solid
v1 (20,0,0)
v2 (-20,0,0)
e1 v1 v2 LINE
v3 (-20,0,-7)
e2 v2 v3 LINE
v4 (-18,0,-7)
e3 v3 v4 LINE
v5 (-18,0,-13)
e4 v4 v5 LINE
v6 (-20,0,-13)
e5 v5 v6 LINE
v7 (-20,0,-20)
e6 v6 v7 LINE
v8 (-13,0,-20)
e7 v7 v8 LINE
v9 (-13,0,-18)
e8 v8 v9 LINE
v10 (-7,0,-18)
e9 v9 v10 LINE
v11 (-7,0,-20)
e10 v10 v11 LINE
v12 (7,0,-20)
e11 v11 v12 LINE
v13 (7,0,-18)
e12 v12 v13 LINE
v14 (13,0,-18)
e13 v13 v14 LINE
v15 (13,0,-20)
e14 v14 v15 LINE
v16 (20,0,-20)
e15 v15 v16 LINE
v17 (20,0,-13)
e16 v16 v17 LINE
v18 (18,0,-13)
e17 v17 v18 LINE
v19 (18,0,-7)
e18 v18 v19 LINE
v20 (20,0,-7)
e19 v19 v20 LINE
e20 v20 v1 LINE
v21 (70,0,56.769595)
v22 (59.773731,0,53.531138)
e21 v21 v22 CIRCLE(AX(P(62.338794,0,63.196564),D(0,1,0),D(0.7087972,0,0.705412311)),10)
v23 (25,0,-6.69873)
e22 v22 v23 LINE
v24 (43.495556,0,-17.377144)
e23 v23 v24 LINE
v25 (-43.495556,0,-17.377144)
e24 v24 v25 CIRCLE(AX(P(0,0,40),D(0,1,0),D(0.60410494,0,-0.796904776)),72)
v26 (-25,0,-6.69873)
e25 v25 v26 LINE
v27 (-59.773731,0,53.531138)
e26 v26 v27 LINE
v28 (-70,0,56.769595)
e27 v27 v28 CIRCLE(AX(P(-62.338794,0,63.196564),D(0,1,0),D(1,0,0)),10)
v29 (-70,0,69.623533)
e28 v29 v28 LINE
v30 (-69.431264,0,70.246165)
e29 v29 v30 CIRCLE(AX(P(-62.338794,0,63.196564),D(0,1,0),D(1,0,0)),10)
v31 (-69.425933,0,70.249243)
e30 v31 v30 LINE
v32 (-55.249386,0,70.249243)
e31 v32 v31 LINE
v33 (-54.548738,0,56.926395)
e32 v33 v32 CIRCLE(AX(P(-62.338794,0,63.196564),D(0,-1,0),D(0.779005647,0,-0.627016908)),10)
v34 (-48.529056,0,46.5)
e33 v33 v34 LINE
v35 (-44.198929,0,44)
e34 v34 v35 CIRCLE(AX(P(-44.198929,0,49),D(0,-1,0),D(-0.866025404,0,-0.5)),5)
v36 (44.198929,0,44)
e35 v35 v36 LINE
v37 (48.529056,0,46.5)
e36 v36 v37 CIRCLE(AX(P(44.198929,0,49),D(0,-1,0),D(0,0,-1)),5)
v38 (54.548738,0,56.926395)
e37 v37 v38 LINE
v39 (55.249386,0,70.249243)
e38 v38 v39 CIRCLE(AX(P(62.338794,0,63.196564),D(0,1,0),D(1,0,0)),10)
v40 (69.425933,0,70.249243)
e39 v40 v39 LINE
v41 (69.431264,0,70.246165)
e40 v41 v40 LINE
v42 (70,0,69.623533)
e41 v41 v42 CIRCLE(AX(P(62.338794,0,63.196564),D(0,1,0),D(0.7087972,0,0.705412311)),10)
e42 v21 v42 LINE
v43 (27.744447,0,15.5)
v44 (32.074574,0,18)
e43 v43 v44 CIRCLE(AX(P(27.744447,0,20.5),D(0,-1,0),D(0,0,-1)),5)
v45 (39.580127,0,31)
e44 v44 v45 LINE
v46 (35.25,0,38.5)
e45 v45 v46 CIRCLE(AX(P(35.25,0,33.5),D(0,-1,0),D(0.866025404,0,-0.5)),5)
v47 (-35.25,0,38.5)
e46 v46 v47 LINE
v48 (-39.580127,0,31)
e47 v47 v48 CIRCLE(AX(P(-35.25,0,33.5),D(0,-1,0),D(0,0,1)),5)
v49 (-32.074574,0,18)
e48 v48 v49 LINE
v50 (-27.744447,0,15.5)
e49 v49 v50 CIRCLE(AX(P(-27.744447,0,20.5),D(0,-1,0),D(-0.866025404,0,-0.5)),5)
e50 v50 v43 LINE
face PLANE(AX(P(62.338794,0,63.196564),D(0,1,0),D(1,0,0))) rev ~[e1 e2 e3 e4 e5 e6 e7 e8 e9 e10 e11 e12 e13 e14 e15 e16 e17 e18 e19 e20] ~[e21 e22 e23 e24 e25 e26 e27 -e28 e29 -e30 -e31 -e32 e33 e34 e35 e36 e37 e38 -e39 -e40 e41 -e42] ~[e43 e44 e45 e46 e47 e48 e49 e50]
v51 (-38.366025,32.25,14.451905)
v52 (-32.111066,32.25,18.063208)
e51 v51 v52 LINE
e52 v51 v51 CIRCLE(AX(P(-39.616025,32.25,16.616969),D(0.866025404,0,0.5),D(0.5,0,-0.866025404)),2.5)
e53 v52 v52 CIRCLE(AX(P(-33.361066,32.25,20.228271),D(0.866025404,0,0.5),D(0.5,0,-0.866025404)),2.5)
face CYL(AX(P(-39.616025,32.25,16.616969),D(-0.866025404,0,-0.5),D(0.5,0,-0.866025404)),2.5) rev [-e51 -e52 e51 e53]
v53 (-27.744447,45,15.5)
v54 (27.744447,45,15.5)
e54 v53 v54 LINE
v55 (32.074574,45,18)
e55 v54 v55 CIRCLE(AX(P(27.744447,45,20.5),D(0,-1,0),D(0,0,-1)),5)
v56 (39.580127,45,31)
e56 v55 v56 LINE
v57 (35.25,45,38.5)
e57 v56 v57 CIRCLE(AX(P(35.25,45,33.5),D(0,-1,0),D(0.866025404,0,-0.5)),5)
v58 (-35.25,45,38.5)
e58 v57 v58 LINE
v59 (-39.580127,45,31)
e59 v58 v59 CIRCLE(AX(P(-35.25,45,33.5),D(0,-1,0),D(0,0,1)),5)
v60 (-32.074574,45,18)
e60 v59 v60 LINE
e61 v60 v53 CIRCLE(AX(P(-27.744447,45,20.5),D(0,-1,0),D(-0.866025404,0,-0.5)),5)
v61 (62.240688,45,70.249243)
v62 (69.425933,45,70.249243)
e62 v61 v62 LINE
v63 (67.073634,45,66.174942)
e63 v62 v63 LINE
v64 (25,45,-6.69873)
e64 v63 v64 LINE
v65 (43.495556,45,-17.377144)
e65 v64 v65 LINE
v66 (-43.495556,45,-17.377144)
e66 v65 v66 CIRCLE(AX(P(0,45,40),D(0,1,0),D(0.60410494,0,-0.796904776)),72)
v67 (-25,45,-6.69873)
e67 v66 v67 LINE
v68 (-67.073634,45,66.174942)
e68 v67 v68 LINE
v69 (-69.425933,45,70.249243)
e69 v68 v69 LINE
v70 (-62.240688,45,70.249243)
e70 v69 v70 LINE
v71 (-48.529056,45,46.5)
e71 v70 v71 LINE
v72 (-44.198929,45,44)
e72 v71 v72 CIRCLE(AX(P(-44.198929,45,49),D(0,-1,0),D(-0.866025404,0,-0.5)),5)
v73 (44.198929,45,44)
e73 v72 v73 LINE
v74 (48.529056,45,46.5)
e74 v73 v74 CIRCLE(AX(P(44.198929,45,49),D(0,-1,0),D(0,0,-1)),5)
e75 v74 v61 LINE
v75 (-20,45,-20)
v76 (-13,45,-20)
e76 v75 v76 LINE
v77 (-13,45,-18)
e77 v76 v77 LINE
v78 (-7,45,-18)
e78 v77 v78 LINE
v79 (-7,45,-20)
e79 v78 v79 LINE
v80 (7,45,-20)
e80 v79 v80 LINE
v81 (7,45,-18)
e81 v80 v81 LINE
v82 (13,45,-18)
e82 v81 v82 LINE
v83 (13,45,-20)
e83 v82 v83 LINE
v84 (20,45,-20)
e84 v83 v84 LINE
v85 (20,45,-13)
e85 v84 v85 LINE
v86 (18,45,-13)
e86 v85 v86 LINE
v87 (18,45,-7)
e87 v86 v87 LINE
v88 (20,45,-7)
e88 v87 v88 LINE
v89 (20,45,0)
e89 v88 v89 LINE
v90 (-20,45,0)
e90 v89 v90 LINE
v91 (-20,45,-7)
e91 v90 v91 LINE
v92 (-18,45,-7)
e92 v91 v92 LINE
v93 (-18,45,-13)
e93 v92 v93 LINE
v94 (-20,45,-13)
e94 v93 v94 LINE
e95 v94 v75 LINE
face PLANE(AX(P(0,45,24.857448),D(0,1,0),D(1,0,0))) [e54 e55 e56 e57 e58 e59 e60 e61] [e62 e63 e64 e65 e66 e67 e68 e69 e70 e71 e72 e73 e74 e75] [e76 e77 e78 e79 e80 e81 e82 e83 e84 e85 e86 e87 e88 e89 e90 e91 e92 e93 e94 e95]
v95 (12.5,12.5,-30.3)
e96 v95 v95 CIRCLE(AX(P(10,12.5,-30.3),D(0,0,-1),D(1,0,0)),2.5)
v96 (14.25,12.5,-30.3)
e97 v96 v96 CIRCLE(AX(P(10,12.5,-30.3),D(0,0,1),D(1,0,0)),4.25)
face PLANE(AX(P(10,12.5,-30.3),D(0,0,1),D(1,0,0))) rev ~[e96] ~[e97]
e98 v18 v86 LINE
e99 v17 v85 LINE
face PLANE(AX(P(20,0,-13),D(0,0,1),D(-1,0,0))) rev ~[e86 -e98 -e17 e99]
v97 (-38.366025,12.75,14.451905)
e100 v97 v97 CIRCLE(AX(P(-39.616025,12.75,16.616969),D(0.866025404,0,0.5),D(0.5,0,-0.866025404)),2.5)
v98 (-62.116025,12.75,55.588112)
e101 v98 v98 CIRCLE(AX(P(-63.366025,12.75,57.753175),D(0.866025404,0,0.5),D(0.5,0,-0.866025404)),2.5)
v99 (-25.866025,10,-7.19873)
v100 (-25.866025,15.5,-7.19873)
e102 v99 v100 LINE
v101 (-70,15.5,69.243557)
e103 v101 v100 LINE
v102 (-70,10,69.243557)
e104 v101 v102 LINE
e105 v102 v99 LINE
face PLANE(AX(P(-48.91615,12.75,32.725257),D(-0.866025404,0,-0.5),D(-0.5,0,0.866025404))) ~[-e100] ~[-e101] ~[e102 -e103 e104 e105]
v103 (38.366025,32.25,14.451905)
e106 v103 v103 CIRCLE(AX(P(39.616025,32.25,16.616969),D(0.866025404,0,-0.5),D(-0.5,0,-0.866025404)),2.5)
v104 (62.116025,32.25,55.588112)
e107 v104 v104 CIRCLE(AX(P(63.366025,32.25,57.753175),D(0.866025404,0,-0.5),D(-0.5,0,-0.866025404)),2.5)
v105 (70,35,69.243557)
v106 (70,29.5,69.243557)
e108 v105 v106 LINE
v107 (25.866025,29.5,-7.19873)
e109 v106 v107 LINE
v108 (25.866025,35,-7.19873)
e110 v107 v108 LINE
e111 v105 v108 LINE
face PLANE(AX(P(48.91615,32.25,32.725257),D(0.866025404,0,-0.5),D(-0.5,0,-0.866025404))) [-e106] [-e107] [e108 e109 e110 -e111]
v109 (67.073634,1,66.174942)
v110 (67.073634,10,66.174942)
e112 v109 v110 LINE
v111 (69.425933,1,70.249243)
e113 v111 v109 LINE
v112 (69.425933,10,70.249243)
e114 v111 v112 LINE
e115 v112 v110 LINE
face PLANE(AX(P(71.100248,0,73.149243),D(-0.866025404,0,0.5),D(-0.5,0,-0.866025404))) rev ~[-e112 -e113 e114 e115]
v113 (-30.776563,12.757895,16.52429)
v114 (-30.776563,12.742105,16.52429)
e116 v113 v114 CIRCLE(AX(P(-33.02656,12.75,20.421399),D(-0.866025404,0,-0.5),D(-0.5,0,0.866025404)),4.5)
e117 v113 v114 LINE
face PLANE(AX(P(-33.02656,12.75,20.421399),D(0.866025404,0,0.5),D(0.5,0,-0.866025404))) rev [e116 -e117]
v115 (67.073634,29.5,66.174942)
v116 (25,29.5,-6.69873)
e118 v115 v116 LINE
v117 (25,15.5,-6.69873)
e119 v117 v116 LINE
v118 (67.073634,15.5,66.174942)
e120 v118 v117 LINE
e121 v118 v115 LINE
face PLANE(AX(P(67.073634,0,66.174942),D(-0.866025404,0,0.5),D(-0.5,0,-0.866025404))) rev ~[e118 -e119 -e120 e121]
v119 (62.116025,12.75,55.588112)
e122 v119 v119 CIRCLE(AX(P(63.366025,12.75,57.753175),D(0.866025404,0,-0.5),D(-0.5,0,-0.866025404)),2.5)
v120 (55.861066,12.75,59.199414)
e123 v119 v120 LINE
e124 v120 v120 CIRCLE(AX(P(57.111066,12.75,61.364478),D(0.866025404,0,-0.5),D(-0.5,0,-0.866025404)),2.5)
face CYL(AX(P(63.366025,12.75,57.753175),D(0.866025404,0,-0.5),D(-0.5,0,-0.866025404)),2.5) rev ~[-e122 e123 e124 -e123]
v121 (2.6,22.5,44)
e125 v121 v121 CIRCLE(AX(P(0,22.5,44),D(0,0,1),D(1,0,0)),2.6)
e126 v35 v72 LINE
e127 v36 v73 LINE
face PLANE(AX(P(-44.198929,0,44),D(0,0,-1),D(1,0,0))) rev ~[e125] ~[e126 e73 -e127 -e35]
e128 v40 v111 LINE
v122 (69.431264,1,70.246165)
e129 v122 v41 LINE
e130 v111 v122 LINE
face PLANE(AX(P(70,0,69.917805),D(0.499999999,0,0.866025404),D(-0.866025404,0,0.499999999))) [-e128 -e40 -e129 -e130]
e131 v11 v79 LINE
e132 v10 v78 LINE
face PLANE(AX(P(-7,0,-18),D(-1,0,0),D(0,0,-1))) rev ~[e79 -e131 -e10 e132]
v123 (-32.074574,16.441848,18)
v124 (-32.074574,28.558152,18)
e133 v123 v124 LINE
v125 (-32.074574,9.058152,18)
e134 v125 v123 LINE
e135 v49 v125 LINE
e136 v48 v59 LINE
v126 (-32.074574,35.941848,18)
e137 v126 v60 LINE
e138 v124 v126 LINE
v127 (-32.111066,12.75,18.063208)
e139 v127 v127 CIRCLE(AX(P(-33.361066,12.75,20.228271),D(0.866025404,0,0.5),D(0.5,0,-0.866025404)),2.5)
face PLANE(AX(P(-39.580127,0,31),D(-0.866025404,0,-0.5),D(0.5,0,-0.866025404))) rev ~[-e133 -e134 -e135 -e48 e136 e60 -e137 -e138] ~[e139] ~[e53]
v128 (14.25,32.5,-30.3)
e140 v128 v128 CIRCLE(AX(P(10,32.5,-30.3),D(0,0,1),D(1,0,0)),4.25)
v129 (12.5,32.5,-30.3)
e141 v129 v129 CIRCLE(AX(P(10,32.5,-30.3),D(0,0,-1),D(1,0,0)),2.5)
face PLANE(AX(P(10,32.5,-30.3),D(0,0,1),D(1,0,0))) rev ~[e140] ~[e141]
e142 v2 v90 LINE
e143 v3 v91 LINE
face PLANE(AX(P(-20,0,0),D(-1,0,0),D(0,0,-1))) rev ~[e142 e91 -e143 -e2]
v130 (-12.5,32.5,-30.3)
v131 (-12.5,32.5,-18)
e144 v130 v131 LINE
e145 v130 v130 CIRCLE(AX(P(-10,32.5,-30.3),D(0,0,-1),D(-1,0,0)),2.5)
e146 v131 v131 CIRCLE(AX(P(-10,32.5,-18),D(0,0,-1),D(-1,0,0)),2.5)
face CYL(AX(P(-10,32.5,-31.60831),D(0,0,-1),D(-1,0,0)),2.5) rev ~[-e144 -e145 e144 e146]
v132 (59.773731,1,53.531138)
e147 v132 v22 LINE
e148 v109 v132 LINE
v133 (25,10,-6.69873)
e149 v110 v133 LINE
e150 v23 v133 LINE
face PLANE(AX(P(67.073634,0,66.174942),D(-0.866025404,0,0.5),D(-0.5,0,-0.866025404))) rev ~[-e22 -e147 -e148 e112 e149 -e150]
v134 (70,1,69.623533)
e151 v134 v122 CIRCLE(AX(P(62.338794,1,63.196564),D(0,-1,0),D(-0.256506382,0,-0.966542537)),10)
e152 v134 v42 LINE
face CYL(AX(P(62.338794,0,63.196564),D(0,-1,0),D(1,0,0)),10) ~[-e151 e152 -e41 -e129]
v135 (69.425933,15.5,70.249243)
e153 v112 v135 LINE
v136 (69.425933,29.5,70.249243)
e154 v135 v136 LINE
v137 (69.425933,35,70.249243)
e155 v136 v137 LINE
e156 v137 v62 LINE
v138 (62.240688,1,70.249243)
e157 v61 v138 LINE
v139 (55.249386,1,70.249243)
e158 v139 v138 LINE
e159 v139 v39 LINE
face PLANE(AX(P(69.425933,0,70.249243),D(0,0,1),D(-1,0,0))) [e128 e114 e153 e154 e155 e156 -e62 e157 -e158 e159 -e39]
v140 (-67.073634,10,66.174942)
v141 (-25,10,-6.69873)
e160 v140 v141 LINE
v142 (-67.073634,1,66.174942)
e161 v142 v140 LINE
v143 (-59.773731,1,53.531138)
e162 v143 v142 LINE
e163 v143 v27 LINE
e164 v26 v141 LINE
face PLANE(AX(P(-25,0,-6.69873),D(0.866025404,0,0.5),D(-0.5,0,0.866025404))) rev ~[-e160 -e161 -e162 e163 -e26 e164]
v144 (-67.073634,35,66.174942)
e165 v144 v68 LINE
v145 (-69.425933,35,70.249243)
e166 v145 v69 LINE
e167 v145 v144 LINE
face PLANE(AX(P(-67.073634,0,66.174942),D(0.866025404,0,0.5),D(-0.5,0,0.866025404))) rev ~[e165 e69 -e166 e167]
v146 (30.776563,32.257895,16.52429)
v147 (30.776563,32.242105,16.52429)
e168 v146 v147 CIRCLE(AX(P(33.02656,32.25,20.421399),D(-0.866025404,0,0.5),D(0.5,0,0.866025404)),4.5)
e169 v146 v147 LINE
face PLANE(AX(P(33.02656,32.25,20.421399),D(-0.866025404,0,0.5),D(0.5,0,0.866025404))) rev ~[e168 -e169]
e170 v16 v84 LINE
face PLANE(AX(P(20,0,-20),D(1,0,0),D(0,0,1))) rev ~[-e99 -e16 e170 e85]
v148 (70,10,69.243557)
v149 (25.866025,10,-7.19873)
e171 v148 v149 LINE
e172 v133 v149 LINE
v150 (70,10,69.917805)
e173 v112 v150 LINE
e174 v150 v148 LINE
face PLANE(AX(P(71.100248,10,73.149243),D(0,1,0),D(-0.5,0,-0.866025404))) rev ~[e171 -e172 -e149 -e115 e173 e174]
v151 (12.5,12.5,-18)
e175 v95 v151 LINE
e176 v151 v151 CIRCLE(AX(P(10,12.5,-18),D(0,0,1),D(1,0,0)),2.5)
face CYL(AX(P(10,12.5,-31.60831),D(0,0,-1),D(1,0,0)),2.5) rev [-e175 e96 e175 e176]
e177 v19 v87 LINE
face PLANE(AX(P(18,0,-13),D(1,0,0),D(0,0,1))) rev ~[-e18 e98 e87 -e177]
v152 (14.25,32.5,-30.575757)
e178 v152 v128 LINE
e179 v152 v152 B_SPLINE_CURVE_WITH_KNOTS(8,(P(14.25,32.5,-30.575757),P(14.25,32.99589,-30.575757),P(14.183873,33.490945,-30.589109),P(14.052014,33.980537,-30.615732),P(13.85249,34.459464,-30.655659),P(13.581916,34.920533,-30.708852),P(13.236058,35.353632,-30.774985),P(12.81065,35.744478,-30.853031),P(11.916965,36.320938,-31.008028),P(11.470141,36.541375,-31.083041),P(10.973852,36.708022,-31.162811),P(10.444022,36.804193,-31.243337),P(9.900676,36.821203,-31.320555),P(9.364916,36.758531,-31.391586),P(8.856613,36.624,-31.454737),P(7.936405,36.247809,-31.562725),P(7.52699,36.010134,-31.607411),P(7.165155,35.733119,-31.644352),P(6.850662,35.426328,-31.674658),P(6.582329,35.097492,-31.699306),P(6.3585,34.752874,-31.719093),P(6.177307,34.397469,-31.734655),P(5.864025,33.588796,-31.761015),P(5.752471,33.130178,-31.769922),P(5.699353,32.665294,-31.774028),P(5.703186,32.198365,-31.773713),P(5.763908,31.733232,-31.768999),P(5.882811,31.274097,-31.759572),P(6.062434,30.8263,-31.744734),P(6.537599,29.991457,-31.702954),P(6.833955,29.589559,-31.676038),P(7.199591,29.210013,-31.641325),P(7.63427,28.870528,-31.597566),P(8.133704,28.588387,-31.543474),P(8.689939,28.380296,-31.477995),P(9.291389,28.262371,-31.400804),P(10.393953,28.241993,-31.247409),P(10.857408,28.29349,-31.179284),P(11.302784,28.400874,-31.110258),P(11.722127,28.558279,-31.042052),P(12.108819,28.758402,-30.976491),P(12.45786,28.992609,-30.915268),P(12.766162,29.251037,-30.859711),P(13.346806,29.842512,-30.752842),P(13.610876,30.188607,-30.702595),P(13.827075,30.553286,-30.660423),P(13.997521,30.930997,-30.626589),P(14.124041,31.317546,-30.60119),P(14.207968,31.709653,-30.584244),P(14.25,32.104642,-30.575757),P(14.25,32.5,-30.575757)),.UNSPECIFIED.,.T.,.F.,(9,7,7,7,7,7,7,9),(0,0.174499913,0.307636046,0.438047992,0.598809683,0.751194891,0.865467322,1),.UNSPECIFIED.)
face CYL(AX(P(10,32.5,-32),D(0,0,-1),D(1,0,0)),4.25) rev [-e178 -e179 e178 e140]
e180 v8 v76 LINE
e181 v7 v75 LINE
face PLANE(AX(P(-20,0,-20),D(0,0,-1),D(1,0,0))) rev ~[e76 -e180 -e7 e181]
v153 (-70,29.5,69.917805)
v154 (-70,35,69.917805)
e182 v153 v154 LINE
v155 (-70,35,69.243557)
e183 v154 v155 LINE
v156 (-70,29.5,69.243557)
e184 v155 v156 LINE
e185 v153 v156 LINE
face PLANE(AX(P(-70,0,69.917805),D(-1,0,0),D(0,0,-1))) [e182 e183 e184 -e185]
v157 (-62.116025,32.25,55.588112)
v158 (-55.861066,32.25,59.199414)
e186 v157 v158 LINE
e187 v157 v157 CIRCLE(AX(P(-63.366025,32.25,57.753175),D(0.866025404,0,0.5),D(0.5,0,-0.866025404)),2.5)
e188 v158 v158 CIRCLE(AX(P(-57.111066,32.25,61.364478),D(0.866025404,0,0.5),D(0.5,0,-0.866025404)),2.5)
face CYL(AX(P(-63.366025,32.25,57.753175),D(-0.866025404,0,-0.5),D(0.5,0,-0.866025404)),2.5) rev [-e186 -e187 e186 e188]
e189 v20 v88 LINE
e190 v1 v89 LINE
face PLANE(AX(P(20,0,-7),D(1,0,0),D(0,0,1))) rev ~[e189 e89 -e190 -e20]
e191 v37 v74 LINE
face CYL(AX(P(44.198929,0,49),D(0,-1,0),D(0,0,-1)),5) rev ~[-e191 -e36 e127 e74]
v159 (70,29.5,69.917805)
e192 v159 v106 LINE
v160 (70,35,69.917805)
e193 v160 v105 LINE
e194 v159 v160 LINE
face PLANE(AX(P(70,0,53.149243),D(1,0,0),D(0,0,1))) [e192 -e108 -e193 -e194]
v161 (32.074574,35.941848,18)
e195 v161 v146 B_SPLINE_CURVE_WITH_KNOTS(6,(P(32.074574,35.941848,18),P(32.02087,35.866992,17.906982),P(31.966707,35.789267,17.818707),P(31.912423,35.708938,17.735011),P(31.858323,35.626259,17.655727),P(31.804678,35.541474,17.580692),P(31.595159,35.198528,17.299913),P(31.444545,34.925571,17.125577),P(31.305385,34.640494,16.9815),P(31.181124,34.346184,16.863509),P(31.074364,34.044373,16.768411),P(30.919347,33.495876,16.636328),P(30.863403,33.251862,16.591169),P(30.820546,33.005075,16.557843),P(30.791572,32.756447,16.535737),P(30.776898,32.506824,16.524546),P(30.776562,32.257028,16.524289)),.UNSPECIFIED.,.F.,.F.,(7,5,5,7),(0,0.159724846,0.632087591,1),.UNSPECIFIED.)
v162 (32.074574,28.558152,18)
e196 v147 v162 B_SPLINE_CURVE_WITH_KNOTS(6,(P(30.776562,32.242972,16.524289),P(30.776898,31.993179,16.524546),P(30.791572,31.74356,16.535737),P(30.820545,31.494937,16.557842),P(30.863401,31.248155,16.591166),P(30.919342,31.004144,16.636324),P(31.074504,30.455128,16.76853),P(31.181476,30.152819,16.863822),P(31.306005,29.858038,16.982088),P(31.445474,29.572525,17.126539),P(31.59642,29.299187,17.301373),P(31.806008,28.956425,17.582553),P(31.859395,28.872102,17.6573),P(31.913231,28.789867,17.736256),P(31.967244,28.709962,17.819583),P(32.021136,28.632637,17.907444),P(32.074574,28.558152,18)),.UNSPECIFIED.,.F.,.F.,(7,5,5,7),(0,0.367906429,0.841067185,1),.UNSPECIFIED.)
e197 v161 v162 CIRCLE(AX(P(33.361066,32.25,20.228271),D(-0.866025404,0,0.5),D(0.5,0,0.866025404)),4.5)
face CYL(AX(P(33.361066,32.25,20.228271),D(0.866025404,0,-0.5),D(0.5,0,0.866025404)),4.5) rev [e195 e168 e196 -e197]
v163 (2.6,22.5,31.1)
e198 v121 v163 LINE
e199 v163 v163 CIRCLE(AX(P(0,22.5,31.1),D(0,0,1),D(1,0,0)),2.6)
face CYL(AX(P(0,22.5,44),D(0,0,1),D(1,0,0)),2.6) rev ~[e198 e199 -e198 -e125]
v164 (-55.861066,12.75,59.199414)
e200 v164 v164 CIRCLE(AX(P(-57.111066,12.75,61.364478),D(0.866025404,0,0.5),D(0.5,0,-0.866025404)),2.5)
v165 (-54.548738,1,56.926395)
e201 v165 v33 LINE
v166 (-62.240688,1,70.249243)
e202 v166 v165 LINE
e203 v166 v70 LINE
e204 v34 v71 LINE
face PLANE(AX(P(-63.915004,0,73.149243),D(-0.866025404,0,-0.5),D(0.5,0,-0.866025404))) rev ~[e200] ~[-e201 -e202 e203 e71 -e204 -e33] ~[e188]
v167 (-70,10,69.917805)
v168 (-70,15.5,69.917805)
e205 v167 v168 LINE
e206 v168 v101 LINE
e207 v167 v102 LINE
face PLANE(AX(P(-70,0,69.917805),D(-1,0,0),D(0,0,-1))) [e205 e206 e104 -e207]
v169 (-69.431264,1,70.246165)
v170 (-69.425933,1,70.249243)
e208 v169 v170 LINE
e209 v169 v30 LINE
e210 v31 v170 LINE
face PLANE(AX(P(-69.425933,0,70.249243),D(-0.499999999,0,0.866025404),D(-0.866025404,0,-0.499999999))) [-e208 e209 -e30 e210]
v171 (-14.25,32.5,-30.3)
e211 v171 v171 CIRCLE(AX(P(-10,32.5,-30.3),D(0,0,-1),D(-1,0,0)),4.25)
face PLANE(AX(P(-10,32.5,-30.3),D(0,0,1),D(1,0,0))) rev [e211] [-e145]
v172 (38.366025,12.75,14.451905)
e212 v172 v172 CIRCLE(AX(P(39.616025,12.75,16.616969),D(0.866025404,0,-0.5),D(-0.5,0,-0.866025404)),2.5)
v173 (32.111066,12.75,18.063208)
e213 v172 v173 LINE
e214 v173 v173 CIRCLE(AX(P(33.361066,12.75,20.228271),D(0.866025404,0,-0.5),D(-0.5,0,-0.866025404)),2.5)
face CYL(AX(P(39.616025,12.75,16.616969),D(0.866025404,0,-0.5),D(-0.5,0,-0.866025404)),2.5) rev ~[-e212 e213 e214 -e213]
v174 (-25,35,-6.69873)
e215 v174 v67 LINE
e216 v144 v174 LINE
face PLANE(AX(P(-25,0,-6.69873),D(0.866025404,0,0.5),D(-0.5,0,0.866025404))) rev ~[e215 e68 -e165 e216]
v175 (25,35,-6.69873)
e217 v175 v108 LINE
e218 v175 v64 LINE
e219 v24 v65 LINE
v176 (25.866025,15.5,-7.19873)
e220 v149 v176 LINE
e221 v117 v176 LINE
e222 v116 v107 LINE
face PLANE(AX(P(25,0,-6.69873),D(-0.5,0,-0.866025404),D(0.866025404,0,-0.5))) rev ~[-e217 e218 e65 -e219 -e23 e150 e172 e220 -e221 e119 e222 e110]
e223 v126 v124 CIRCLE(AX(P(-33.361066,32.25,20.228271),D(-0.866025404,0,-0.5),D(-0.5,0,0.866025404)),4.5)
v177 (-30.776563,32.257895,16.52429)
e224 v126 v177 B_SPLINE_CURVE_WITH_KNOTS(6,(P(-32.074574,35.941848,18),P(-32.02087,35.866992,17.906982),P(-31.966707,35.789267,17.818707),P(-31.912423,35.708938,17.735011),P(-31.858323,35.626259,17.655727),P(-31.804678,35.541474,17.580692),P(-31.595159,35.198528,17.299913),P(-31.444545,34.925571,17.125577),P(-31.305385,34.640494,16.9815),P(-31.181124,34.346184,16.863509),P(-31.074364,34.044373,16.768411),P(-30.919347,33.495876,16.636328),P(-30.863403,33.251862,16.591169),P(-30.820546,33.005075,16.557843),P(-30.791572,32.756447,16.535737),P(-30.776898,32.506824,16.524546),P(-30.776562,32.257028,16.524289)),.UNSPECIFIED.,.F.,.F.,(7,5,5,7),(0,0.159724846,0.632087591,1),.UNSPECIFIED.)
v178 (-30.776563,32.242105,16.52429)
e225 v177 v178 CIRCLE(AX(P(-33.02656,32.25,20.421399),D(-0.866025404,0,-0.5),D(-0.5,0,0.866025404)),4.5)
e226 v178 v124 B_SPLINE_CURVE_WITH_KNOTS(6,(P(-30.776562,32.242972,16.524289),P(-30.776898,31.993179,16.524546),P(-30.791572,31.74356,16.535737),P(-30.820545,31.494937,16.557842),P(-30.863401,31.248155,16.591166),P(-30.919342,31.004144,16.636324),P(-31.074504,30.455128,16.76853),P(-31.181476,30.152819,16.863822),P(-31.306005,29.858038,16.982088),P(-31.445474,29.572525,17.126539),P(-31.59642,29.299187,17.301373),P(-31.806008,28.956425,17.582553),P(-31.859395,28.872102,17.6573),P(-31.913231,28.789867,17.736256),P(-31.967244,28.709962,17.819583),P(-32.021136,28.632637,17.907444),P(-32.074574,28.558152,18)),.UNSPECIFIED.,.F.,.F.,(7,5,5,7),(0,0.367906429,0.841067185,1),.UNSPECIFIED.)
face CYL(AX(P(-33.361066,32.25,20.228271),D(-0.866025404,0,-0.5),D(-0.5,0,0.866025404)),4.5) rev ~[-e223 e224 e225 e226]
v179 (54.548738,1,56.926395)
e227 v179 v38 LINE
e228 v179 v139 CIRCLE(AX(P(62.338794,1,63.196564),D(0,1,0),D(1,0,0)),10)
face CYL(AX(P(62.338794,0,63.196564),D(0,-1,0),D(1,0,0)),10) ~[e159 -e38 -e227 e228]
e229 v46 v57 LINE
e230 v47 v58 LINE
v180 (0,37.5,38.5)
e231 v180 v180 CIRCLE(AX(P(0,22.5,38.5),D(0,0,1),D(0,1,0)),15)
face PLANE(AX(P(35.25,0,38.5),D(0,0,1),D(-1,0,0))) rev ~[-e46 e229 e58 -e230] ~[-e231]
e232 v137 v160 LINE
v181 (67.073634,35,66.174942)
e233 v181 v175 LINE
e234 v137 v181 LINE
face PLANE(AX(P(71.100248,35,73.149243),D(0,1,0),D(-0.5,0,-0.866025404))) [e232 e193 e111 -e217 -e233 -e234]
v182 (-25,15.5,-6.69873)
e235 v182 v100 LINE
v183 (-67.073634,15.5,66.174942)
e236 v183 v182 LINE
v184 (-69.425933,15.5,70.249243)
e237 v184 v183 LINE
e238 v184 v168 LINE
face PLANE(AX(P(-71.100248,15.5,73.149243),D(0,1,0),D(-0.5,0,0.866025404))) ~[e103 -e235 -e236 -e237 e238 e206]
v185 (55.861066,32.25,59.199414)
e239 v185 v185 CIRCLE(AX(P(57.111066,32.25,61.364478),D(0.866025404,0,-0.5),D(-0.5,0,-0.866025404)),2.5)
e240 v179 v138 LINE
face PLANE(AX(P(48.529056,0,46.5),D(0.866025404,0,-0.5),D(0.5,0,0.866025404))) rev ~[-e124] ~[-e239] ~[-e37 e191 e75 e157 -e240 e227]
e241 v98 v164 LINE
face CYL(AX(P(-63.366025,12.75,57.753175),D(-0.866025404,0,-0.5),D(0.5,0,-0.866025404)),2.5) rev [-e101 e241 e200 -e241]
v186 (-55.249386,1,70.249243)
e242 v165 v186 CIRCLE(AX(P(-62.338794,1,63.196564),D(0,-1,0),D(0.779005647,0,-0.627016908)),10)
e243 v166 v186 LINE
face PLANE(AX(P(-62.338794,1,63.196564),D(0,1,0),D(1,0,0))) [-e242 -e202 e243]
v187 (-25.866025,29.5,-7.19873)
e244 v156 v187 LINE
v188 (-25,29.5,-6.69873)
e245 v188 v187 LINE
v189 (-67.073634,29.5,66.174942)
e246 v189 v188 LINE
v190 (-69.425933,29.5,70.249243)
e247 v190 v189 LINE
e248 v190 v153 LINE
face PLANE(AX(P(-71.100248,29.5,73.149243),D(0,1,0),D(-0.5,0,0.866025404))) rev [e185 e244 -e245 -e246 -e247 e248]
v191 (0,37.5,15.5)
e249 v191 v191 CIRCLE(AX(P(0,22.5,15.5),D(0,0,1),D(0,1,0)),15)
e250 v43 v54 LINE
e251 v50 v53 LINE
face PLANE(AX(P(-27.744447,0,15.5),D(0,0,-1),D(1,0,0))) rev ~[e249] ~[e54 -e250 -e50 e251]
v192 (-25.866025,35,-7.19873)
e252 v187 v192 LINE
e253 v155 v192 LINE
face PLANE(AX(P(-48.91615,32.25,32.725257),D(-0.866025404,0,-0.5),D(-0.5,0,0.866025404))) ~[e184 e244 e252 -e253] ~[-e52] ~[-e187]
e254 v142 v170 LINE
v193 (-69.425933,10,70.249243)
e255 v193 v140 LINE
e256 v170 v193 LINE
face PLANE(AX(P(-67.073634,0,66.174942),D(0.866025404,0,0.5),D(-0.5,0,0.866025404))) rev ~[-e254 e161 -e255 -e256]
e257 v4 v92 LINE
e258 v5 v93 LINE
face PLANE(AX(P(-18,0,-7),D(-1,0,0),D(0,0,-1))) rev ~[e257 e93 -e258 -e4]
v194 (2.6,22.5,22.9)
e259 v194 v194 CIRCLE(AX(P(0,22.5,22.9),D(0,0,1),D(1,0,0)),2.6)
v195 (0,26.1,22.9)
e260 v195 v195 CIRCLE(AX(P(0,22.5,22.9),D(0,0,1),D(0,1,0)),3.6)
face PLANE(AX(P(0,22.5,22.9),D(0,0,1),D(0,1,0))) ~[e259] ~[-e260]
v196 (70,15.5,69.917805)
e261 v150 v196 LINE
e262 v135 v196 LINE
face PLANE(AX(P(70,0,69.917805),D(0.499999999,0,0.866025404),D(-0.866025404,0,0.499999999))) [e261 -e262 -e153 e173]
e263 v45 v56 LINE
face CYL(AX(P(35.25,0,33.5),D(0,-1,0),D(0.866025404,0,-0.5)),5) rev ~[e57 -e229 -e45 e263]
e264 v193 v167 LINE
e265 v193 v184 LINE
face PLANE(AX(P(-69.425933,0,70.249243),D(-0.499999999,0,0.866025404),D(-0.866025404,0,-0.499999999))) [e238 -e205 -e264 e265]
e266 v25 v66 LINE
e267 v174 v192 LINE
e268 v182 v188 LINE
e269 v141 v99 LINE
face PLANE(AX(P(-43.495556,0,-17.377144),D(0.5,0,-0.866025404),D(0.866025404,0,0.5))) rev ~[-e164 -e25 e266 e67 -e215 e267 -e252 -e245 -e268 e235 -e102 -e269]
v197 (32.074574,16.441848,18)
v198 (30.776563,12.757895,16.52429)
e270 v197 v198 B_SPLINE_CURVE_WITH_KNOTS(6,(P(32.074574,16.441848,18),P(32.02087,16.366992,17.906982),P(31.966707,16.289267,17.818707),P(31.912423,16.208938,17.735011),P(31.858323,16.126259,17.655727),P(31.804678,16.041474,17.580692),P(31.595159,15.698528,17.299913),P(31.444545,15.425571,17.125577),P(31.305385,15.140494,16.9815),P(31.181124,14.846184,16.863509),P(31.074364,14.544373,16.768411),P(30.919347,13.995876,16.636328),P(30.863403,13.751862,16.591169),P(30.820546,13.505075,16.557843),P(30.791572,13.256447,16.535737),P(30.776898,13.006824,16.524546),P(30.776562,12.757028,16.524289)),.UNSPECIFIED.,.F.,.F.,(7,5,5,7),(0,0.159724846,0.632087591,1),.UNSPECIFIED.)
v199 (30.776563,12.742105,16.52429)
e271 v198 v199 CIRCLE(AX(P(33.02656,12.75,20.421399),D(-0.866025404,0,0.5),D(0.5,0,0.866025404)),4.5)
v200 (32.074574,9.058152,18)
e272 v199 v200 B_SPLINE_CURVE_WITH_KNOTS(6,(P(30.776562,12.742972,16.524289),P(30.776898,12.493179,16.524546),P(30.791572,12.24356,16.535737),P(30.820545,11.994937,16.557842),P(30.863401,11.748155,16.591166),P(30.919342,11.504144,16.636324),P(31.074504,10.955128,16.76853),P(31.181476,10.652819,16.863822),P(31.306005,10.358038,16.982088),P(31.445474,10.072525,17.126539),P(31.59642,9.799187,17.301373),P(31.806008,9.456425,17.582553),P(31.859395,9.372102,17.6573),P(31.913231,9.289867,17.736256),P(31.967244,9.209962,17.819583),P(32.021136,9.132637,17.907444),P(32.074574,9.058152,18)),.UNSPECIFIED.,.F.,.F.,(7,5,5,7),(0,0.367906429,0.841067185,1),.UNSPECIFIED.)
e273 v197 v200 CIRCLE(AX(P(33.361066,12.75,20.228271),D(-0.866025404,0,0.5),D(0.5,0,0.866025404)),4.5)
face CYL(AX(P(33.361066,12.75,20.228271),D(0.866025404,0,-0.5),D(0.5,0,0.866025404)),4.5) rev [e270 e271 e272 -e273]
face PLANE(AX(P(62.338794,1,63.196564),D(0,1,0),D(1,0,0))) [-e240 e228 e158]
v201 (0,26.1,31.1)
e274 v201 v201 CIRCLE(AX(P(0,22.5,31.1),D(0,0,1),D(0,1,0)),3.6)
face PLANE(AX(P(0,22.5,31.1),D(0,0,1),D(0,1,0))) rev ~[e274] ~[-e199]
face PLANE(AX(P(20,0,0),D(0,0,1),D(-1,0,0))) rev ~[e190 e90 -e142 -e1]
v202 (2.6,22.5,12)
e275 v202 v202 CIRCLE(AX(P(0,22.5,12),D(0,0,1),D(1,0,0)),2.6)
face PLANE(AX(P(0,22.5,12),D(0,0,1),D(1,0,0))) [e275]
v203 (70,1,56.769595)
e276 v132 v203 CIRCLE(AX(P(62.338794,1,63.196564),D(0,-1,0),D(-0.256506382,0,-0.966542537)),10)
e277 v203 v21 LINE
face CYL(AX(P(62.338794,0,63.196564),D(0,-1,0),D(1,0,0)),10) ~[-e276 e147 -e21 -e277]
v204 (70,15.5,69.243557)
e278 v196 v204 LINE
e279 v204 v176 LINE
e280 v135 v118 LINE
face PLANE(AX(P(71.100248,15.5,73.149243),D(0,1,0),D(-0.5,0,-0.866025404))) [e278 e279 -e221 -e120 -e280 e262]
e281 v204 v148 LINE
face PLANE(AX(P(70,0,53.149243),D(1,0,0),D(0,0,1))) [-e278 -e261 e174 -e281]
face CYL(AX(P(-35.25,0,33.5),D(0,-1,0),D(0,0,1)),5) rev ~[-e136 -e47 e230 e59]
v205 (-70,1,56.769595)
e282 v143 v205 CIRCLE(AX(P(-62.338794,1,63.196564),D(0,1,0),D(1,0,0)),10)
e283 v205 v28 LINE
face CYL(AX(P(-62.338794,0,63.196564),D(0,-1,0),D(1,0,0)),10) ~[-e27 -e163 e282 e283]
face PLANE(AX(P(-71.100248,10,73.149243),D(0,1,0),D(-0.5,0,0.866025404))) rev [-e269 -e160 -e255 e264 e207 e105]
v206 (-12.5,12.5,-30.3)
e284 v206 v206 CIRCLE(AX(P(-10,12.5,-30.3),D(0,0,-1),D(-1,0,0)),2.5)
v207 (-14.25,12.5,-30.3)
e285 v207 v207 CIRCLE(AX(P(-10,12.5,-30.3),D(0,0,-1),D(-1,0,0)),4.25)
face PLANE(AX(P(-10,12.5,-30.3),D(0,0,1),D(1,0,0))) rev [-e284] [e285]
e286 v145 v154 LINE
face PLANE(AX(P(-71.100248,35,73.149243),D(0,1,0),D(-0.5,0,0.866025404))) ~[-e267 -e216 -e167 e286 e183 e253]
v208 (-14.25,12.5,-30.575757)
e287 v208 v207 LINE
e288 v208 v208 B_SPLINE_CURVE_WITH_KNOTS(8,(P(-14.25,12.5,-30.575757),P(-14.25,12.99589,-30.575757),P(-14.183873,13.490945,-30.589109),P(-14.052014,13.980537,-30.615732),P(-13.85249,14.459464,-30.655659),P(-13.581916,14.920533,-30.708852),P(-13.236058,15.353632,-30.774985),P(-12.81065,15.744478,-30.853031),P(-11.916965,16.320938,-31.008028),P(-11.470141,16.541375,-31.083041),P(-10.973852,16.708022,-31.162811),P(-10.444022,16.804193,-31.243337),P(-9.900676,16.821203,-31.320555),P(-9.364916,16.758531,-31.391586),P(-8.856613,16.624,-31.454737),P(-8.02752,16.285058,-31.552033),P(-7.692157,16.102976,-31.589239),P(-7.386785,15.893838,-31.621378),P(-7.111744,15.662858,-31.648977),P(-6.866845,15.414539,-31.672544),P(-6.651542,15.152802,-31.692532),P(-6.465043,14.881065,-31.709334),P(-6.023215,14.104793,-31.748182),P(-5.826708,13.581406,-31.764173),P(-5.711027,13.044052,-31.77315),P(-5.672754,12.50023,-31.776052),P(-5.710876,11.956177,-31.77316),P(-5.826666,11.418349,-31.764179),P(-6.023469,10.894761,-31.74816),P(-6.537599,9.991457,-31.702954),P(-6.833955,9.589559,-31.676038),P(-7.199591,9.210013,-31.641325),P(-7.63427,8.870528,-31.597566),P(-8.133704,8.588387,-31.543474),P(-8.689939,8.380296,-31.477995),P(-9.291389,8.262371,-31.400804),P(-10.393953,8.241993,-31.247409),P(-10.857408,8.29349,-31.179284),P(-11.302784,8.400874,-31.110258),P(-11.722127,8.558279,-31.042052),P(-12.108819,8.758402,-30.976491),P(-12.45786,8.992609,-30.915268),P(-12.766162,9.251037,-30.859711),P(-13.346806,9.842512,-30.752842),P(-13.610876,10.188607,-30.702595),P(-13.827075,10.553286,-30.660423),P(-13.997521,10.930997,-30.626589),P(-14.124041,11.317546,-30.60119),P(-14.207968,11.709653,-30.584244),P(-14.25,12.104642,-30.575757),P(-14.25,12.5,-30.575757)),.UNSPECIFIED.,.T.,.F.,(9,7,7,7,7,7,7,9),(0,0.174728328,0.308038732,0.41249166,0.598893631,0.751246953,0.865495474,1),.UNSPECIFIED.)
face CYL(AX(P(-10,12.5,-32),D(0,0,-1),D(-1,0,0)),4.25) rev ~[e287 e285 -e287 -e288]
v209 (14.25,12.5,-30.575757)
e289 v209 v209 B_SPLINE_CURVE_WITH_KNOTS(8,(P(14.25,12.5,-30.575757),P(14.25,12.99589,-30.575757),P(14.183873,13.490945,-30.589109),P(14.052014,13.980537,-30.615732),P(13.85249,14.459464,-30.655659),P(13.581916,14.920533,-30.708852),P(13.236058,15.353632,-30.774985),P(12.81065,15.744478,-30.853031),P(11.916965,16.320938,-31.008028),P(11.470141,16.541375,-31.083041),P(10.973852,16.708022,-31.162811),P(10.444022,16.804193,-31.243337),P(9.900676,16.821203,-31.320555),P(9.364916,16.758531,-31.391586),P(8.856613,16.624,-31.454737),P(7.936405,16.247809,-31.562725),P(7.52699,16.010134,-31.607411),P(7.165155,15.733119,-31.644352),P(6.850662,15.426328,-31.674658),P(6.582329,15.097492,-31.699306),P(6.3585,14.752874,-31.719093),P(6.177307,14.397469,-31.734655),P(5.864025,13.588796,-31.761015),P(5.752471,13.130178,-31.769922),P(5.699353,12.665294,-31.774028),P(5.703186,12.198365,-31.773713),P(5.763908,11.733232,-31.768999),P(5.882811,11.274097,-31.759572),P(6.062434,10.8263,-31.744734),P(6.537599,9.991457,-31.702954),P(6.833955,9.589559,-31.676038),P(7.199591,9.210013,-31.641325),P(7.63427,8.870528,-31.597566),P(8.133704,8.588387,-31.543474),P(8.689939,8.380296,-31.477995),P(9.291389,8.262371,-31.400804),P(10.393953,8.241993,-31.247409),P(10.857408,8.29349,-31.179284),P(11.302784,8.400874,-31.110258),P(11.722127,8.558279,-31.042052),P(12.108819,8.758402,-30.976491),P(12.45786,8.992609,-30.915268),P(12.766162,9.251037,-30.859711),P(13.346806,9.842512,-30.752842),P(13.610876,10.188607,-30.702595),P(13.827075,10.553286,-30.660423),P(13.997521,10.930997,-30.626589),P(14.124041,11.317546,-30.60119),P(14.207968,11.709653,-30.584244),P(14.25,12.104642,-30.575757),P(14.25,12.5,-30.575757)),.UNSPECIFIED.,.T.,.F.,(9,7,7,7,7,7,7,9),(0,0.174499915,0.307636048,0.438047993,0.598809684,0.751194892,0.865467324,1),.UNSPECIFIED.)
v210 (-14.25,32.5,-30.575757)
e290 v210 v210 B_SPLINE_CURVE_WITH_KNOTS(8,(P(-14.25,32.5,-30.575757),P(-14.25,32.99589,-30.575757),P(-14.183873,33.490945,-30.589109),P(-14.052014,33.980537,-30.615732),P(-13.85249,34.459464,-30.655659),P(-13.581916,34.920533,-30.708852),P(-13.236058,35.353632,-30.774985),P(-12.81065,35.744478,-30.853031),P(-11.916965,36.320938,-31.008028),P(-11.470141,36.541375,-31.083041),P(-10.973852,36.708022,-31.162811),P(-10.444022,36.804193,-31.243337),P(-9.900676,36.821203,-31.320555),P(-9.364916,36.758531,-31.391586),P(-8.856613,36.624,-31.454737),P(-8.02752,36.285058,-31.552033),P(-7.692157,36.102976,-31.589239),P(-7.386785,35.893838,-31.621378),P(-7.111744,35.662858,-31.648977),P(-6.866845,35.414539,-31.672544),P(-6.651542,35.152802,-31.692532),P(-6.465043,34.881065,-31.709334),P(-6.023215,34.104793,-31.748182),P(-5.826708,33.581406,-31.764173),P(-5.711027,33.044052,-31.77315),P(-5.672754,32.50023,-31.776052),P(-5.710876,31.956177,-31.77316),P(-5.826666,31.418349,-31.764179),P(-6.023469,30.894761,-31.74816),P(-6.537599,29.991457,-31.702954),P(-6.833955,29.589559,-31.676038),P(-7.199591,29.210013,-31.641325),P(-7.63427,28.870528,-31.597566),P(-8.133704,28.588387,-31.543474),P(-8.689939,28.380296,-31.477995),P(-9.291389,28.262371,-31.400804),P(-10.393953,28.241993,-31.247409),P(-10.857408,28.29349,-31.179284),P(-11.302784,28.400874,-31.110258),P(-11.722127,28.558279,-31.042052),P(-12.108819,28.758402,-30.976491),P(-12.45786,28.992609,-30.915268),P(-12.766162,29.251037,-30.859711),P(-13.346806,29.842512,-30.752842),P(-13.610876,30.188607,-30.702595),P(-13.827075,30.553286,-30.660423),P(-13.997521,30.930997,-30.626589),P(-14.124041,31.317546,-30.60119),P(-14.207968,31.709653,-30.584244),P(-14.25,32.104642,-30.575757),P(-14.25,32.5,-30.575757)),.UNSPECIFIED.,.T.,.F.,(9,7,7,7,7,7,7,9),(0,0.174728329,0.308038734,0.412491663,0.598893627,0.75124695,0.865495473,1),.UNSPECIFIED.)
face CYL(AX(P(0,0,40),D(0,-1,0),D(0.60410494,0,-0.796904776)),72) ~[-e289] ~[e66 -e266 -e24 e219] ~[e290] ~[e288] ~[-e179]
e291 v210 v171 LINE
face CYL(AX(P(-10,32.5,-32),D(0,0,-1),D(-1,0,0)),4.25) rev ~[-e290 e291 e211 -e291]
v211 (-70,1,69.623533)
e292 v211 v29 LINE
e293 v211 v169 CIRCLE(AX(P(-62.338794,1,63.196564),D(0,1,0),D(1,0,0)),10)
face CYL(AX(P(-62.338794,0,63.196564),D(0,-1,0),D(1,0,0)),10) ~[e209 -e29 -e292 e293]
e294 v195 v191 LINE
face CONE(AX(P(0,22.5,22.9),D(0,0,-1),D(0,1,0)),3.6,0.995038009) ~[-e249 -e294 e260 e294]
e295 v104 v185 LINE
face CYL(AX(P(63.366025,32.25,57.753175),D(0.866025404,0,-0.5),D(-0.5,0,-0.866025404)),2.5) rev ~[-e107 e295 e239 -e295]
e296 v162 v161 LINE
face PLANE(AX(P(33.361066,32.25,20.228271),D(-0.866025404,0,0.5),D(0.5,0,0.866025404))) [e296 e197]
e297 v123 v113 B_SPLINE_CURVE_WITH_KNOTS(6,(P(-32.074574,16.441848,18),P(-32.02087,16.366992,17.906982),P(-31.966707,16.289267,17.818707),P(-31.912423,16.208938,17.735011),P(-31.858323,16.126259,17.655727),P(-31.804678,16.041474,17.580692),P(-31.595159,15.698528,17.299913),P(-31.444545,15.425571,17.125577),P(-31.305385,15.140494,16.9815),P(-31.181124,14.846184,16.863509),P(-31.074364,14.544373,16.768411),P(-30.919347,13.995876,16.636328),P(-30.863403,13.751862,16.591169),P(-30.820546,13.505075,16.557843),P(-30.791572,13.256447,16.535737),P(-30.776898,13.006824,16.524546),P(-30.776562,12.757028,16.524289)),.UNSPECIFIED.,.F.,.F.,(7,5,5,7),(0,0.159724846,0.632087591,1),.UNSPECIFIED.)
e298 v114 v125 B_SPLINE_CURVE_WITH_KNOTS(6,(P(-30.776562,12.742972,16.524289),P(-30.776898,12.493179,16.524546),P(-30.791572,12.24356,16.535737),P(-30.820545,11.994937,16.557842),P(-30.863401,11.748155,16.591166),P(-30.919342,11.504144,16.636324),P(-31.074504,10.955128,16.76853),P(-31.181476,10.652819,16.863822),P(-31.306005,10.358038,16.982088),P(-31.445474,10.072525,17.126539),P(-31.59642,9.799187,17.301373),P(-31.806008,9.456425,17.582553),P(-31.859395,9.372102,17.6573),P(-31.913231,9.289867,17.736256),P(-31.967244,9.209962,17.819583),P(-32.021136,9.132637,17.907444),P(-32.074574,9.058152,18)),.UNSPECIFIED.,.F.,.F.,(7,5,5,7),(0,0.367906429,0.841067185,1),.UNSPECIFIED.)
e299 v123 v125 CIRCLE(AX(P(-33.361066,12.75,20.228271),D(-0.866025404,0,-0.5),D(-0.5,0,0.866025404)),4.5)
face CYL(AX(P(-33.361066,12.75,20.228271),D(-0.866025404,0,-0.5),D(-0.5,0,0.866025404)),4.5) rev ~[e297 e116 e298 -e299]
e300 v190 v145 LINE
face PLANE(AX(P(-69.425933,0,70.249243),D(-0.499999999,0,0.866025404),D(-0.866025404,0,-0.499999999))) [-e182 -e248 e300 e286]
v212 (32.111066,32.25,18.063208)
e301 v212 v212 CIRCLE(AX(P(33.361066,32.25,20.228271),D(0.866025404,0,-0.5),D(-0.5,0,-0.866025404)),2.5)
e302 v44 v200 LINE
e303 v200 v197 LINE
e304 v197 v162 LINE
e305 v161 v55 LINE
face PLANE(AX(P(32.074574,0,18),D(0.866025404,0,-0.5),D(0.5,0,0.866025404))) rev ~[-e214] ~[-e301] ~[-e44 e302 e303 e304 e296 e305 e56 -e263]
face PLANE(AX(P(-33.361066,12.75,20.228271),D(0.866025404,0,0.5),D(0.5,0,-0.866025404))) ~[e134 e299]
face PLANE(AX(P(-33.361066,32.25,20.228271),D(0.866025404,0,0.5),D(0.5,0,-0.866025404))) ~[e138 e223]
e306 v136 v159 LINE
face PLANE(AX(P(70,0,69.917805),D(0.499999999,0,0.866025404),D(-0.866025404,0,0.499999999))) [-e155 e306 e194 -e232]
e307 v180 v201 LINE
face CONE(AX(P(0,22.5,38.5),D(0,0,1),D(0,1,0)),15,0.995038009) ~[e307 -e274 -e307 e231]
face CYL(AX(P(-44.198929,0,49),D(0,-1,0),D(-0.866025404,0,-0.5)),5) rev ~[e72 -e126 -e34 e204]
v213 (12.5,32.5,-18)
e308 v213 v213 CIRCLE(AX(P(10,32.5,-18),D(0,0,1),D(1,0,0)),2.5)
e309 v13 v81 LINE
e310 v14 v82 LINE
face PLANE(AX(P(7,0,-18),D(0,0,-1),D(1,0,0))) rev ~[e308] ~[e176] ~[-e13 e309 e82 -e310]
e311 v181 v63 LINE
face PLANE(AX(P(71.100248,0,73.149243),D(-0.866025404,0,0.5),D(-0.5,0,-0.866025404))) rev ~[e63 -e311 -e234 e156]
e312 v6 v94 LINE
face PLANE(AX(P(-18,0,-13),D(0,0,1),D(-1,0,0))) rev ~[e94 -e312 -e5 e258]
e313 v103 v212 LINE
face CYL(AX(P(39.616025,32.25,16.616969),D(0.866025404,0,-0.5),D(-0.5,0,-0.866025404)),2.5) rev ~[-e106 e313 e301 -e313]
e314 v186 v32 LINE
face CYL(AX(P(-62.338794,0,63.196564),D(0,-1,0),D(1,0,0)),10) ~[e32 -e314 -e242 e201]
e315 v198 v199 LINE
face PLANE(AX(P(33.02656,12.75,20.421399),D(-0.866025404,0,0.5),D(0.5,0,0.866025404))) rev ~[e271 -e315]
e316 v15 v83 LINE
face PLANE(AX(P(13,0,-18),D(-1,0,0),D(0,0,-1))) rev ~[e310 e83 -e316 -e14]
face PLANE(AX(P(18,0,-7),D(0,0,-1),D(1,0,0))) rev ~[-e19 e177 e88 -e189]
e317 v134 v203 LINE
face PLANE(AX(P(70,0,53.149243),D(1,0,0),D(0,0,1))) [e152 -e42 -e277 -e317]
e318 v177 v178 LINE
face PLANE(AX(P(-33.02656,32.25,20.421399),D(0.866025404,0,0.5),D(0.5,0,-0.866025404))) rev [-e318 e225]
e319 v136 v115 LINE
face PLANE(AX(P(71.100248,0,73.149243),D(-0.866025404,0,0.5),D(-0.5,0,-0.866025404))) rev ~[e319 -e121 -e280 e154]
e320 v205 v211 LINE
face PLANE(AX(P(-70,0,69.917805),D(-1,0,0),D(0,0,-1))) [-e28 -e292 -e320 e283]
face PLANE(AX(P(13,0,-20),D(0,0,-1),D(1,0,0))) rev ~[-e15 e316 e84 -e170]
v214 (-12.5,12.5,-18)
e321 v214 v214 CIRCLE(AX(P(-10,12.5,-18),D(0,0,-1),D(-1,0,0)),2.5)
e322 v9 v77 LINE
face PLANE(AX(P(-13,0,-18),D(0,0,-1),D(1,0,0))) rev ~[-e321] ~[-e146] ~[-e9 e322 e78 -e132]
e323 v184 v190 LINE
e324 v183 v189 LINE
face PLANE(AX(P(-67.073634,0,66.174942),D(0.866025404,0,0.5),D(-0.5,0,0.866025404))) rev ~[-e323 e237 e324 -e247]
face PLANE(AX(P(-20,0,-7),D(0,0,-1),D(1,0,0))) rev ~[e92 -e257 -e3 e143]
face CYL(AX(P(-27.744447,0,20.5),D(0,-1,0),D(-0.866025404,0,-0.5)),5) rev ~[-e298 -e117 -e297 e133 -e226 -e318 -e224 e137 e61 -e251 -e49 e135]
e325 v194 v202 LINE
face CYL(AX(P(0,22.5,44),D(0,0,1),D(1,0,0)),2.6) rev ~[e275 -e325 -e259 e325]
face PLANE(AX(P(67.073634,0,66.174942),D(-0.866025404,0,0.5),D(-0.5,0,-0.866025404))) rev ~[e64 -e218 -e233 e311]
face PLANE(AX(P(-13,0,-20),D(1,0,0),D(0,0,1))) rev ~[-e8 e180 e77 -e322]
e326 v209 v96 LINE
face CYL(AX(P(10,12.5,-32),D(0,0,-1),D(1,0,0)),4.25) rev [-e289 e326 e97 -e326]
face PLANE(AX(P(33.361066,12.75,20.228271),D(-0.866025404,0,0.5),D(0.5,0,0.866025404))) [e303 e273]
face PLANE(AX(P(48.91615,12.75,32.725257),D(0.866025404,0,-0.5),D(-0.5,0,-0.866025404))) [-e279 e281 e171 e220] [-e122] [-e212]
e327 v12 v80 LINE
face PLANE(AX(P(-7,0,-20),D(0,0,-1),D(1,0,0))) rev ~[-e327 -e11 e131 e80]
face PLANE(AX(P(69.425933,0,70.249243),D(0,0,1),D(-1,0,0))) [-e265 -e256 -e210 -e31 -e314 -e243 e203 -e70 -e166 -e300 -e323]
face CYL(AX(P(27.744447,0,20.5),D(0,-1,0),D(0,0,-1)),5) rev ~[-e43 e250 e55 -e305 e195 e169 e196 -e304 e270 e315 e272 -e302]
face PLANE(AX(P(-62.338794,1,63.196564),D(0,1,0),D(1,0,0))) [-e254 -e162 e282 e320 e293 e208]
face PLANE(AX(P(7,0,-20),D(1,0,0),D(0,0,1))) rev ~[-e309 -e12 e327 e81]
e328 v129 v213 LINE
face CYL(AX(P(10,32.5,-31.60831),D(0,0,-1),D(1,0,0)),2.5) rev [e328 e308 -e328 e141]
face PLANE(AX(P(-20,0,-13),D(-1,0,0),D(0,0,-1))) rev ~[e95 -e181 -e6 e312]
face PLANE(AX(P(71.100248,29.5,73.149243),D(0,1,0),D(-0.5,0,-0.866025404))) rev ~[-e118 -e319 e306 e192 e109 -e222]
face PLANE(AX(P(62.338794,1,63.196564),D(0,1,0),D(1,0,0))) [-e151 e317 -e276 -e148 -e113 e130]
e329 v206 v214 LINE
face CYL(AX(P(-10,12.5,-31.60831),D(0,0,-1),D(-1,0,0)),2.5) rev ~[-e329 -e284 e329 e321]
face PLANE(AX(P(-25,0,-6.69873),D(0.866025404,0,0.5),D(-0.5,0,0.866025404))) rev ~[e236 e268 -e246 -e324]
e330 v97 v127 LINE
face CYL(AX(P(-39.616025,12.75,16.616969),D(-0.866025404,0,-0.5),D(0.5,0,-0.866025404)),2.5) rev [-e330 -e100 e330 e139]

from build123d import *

# Parameters (mm, degrees)
BOSS_EXTRUDE1_DEPTH = 45
SKETCH3_W           = 92.200496998
SKETCH3_H           = 5.5
BOSS_EXTRUDE2_DEPTH = 1
SKETCH4_R           = 2.5
CUT_EXTRUDE2_DEPTH  = 7.222605
SKETCH8_R           = 4.5
CUT_EXTRUDE7_DEPTH  = 0.386255
CUT_EXTRUDE3_START  = -13.60831
SKETCH5_R           = 2.5
CUT_EXTRUDE3_DEPTH  = 13.60831
CUT_EXTRUDE5_START  = -14
SKETCH6_R           = 4.25
CUT_EXTRUDE5_DEPTH  = 1.7
SKETCH10_R          = 2.6
CUT_EXTRUDE8_DEPTH  = 32
SKETCH11_R          = 10
BOSS_EXTRUDE3_DEPTH = 1
CUT_EXTRUDE10_DEPTH = 46.0000001


with BuildPart() as part:
    # Sketch1 → Boss-Extrude1 (new body)
    with BuildSketch(Plane(origin=(0, 0, 0), x_dir=(1, 0, 0), z_dir=(0, 1, 0))):
        with BuildLine():
            Line((67.073634163, -66.174942219), (25, 6.698729811))
            Line((25, 6.698729811), (43.49555567, 17.377143855))
            ThreePointArc((43.49555567, 17.377143855), (0, 32), (-43.49555567, 17.377143855))
            Line((-43.49555567, 17.377143855), (-25, 6.698729811))
            Line((-25, 6.698729811), (-67.073634163, -66.174942219))
            Line((-67.073634163, -66.174942219), (-71.100248499, -73.149242831))
            Line((-71.100248499, -73.149242831), (-63.915003714, -73.149242831))
            Line((-63.915003714, -73.149242831), (-48.529056191, -46.5))
            ThreePointArc((-48.529056191, -46.5), (-46.698929172, -44.669872981), (-44.198929172, -44))
            Line((-44.198929172, -44), (44.198929172, -44))
            ThreePointArc((44.198929172, -44), (46.698929172, -44.669872981), (48.529056191, -46.5))
            Line((48.529056191, -46.5), (63.915003714, -73.149242831))
            Line((63.915003714, -73.149242831), (71.100248499, -73.149242831))
            Line((71.100248499, -73.149242831), (67.073634163, -66.174942219))
        make_face()
        Polygon((-20, 20), (-13, 20), (-13, 18), (-7, 18), (-7, 20), (7, 20), (7, 18), (13, 18), (13, 20), (20, 20), (20, 13), (18, 13), (18, 7), (20, 7), (20, 0), (-20, 0), (-20, 7), (-18, 7), (-18, 13), (-20, 13), align=None, mode=Mode.SUBTRACT)
        with BuildLine():
            Line((-27.744446501, -15.5), (27.744446501, -15.5))
            ThreePointArc((27.744446501, -15.5), (30.244446501, -16.169872981), (32.074573519, -18))
            Line((32.074573519, -18), (39.580127019, -31))
            ThreePointArc((39.580127019, -31), (39.580127019, -36), (35.25, -38.5))
            Line((35.25, -38.5), (-35.25, -38.5))
            ThreePointArc((-35.25, -38.5), (-39.580127019, -36), (-39.580127019, -31))
            Line((-39.580127019, -31), (-32.074573519, -18))
            ThreePointArc((-32.074573519, -18), (-30.244446501, -16.169872981), (-27.744446501, -15.5))
        make_face(mode=Mode.SUBTRACT)
    extrude(amount=BOSS_EXTRUDE1_DEPTH)

    # Sketch3 → Boss-Extrude2 (add)
    with BuildSketch(Plane(origin=(21.650635095, 0, -12.5), x_dir=(-0.5, 0, -0.866025404), z_dir=(0.866025404, 0, -0.5))):
        with Locations((-52.79897831, 32.25)):
            Rectangle(SKETCH3_W, SKETCH3_H)
        with Locations((-52.79897831, 12.75)):
            Rectangle(SKETCH3_W, SKETCH3_H)
    boss_extrude2 = extrude(amount=BOSS_EXTRUDE2_DEPTH)

    # Sketch4 → Cut-Extrude2 (cut)
    with BuildSketch(Plane(origin=(22.516660498, 0, -13), x_dir=(-0.5, 0, -0.866025404), z_dir=(0.866025404, 0, -0.5))):
        with Locations((-34.198729811, 32.25)):
            Circle(SKETCH4_R)
        with Locations((-34.198729811, 12.75)):
            Circle(SKETCH4_R)
        with Locations((-81.698729811, 12.75)):
            Circle(SKETCH4_R)
        with Locations((-81.698729811, 32.25)):
            Circle(SKETCH4_R)
    cut_extrude2 = extrude(amount=-CUT_EXTRUDE2_DEPTH, mode=Mode.SUBTRACT)

    # Sketch8 → Cut-Extrude7 (cut)
    with BuildSketch(Plane(origin=(16.261701506, 0, -9.388697742), x_dir=(0.5, 0, 0.866025404), z_dir=(-0.866025404, 0, 0.5))):
        with Locations((34.198729811, 32.25)):
            Circle(SKETCH8_R)
        with Locations((34.198729811, 12.75)):
            Circle(SKETCH8_R)
    cut_extrude7 = extrude(amount=CUT_EXTRUDE7_DEPTH, mode=Mode.SUBTRACT)

    # Sketch5 → Cut-Extrude3 (cut)
    with BuildSketch(Plane.XY.offset(-18).offset(CUT_EXTRUDE3_START)):
        with Locations((10, 32.5)):
            Circle(SKETCH5_R)
        with Locations((10, 12.5)):
            Circle(SKETCH5_R)
    cut_extrude3 = extrude(amount=CUT_EXTRUDE3_DEPTH, mode=Mode.SUBTRACT)

    # Sketch6 → Cut-Extrude5 (cut)
    with BuildSketch(Plane.XY.offset(-18).offset(CUT_EXTRUDE5_START)):
        with Locations((10, 32.5)):
            Circle(SKETCH6_R)
        with Locations((10, 12.5)):
            Circle(SKETCH6_R)
    cut_extrude5 = extrude(amount=CUT_EXTRUDE5_DEPTH, mode=Mode.SUBTRACT)

    # Mirror1: Boss-Extrude2, Cut-Extrude2, Cut-Extrude7, Cut-Extrude3, Cut-Extrude5 across plane
    add(boss_extrude2.mirror(Plane(origin=(0, 0, 0), x_dir=(0, 0, 1), z_dir=(1, 0, 0))))
    add(cut_extrude2.mirror(Plane(origin=(0, 0, 0), x_dir=(0, 0, 1), z_dir=(1, 0, 0))), mode=Mode.SUBTRACT)
    add(cut_extrude7.mirror(Plane(origin=(0, 0, 0), x_dir=(0, 0, 1), z_dir=(1, 0, 0))), mode=Mode.SUBTRACT)
    add(cut_extrude3.mirror(Plane(origin=(0, 0, 0), x_dir=(0, 0, 1), z_dir=(1, 0, 0))), mode=Mode.SUBTRACT)
    add(cut_extrude5.mirror(Plane(origin=(0, 0, 0), x_dir=(0, 0, 1), z_dir=(1, 0, 0))), mode=Mode.SUBTRACT)

    # Sketch9 → Revolve1 (revolve)
    with BuildSketch(Plane(origin=(0, 0, 0), x_dir=(0, 0, -1), z_dir=(1, 0, 0))):
        Polygon((-31.1, 26.1), (-31.1, 22.5), (-38.5, 22.5), (-38.5, 37.5), align=None)
        Polygon((-22.9, 26.1), (-15.5, 37.5), (-15.5, 22.5), (-22.9, 22.5), align=None)
    revolve(axis=Axis((0, 22.5, 15.5), (0, 0, 1)))

    # Sketch10 → Cut-Extrude8 (cut)
    with BuildSketch(Plane.XY.offset(44)):
        with Locations((0, 22.5)):
            Circle(SKETCH10_R)
    extrude(amount=-CUT_EXTRUDE8_DEPTH, mode=Mode.SUBTRACT)

    # Sketch11 → Boss-Extrude3 (add)
    with BuildSketch(Plane(origin=(0, 0, 0), x_dir=(1, 0, 0), z_dir=(0, 1, 0))):
        with Locations((62.338794406, -63.196563711)):
            Circle(SKETCH11_R)
        with Locations((-62.338794406, -63.196563711)):
            Circle(SKETCH11_R)
    extrude(amount=BOSS_EXTRUDE3_DEPTH)

    # Sketch14 → Cut-Extrude10 (cut, through all)
    with BuildSketch(Plane(origin=(0, 0, 0), x_dir=(1, 0, 0), z_dir=(0, 1, 0))):
        Polygon((-80, -75.149242831), (80, -75.149242831), (80, -53.149242831), (70, -53.149242831), (70, -69.917804932), (69.425932718, -70.249242831), (-69.425932718, -70.249242831), (-70, -69.917804932), (-70, -53.149242831), (-80, -53.149242831), align=None)
    extrude(amount=CUT_EXTRUDE10_DEPTH, mode=Mode.SUBTRACT)


solid = part.part
